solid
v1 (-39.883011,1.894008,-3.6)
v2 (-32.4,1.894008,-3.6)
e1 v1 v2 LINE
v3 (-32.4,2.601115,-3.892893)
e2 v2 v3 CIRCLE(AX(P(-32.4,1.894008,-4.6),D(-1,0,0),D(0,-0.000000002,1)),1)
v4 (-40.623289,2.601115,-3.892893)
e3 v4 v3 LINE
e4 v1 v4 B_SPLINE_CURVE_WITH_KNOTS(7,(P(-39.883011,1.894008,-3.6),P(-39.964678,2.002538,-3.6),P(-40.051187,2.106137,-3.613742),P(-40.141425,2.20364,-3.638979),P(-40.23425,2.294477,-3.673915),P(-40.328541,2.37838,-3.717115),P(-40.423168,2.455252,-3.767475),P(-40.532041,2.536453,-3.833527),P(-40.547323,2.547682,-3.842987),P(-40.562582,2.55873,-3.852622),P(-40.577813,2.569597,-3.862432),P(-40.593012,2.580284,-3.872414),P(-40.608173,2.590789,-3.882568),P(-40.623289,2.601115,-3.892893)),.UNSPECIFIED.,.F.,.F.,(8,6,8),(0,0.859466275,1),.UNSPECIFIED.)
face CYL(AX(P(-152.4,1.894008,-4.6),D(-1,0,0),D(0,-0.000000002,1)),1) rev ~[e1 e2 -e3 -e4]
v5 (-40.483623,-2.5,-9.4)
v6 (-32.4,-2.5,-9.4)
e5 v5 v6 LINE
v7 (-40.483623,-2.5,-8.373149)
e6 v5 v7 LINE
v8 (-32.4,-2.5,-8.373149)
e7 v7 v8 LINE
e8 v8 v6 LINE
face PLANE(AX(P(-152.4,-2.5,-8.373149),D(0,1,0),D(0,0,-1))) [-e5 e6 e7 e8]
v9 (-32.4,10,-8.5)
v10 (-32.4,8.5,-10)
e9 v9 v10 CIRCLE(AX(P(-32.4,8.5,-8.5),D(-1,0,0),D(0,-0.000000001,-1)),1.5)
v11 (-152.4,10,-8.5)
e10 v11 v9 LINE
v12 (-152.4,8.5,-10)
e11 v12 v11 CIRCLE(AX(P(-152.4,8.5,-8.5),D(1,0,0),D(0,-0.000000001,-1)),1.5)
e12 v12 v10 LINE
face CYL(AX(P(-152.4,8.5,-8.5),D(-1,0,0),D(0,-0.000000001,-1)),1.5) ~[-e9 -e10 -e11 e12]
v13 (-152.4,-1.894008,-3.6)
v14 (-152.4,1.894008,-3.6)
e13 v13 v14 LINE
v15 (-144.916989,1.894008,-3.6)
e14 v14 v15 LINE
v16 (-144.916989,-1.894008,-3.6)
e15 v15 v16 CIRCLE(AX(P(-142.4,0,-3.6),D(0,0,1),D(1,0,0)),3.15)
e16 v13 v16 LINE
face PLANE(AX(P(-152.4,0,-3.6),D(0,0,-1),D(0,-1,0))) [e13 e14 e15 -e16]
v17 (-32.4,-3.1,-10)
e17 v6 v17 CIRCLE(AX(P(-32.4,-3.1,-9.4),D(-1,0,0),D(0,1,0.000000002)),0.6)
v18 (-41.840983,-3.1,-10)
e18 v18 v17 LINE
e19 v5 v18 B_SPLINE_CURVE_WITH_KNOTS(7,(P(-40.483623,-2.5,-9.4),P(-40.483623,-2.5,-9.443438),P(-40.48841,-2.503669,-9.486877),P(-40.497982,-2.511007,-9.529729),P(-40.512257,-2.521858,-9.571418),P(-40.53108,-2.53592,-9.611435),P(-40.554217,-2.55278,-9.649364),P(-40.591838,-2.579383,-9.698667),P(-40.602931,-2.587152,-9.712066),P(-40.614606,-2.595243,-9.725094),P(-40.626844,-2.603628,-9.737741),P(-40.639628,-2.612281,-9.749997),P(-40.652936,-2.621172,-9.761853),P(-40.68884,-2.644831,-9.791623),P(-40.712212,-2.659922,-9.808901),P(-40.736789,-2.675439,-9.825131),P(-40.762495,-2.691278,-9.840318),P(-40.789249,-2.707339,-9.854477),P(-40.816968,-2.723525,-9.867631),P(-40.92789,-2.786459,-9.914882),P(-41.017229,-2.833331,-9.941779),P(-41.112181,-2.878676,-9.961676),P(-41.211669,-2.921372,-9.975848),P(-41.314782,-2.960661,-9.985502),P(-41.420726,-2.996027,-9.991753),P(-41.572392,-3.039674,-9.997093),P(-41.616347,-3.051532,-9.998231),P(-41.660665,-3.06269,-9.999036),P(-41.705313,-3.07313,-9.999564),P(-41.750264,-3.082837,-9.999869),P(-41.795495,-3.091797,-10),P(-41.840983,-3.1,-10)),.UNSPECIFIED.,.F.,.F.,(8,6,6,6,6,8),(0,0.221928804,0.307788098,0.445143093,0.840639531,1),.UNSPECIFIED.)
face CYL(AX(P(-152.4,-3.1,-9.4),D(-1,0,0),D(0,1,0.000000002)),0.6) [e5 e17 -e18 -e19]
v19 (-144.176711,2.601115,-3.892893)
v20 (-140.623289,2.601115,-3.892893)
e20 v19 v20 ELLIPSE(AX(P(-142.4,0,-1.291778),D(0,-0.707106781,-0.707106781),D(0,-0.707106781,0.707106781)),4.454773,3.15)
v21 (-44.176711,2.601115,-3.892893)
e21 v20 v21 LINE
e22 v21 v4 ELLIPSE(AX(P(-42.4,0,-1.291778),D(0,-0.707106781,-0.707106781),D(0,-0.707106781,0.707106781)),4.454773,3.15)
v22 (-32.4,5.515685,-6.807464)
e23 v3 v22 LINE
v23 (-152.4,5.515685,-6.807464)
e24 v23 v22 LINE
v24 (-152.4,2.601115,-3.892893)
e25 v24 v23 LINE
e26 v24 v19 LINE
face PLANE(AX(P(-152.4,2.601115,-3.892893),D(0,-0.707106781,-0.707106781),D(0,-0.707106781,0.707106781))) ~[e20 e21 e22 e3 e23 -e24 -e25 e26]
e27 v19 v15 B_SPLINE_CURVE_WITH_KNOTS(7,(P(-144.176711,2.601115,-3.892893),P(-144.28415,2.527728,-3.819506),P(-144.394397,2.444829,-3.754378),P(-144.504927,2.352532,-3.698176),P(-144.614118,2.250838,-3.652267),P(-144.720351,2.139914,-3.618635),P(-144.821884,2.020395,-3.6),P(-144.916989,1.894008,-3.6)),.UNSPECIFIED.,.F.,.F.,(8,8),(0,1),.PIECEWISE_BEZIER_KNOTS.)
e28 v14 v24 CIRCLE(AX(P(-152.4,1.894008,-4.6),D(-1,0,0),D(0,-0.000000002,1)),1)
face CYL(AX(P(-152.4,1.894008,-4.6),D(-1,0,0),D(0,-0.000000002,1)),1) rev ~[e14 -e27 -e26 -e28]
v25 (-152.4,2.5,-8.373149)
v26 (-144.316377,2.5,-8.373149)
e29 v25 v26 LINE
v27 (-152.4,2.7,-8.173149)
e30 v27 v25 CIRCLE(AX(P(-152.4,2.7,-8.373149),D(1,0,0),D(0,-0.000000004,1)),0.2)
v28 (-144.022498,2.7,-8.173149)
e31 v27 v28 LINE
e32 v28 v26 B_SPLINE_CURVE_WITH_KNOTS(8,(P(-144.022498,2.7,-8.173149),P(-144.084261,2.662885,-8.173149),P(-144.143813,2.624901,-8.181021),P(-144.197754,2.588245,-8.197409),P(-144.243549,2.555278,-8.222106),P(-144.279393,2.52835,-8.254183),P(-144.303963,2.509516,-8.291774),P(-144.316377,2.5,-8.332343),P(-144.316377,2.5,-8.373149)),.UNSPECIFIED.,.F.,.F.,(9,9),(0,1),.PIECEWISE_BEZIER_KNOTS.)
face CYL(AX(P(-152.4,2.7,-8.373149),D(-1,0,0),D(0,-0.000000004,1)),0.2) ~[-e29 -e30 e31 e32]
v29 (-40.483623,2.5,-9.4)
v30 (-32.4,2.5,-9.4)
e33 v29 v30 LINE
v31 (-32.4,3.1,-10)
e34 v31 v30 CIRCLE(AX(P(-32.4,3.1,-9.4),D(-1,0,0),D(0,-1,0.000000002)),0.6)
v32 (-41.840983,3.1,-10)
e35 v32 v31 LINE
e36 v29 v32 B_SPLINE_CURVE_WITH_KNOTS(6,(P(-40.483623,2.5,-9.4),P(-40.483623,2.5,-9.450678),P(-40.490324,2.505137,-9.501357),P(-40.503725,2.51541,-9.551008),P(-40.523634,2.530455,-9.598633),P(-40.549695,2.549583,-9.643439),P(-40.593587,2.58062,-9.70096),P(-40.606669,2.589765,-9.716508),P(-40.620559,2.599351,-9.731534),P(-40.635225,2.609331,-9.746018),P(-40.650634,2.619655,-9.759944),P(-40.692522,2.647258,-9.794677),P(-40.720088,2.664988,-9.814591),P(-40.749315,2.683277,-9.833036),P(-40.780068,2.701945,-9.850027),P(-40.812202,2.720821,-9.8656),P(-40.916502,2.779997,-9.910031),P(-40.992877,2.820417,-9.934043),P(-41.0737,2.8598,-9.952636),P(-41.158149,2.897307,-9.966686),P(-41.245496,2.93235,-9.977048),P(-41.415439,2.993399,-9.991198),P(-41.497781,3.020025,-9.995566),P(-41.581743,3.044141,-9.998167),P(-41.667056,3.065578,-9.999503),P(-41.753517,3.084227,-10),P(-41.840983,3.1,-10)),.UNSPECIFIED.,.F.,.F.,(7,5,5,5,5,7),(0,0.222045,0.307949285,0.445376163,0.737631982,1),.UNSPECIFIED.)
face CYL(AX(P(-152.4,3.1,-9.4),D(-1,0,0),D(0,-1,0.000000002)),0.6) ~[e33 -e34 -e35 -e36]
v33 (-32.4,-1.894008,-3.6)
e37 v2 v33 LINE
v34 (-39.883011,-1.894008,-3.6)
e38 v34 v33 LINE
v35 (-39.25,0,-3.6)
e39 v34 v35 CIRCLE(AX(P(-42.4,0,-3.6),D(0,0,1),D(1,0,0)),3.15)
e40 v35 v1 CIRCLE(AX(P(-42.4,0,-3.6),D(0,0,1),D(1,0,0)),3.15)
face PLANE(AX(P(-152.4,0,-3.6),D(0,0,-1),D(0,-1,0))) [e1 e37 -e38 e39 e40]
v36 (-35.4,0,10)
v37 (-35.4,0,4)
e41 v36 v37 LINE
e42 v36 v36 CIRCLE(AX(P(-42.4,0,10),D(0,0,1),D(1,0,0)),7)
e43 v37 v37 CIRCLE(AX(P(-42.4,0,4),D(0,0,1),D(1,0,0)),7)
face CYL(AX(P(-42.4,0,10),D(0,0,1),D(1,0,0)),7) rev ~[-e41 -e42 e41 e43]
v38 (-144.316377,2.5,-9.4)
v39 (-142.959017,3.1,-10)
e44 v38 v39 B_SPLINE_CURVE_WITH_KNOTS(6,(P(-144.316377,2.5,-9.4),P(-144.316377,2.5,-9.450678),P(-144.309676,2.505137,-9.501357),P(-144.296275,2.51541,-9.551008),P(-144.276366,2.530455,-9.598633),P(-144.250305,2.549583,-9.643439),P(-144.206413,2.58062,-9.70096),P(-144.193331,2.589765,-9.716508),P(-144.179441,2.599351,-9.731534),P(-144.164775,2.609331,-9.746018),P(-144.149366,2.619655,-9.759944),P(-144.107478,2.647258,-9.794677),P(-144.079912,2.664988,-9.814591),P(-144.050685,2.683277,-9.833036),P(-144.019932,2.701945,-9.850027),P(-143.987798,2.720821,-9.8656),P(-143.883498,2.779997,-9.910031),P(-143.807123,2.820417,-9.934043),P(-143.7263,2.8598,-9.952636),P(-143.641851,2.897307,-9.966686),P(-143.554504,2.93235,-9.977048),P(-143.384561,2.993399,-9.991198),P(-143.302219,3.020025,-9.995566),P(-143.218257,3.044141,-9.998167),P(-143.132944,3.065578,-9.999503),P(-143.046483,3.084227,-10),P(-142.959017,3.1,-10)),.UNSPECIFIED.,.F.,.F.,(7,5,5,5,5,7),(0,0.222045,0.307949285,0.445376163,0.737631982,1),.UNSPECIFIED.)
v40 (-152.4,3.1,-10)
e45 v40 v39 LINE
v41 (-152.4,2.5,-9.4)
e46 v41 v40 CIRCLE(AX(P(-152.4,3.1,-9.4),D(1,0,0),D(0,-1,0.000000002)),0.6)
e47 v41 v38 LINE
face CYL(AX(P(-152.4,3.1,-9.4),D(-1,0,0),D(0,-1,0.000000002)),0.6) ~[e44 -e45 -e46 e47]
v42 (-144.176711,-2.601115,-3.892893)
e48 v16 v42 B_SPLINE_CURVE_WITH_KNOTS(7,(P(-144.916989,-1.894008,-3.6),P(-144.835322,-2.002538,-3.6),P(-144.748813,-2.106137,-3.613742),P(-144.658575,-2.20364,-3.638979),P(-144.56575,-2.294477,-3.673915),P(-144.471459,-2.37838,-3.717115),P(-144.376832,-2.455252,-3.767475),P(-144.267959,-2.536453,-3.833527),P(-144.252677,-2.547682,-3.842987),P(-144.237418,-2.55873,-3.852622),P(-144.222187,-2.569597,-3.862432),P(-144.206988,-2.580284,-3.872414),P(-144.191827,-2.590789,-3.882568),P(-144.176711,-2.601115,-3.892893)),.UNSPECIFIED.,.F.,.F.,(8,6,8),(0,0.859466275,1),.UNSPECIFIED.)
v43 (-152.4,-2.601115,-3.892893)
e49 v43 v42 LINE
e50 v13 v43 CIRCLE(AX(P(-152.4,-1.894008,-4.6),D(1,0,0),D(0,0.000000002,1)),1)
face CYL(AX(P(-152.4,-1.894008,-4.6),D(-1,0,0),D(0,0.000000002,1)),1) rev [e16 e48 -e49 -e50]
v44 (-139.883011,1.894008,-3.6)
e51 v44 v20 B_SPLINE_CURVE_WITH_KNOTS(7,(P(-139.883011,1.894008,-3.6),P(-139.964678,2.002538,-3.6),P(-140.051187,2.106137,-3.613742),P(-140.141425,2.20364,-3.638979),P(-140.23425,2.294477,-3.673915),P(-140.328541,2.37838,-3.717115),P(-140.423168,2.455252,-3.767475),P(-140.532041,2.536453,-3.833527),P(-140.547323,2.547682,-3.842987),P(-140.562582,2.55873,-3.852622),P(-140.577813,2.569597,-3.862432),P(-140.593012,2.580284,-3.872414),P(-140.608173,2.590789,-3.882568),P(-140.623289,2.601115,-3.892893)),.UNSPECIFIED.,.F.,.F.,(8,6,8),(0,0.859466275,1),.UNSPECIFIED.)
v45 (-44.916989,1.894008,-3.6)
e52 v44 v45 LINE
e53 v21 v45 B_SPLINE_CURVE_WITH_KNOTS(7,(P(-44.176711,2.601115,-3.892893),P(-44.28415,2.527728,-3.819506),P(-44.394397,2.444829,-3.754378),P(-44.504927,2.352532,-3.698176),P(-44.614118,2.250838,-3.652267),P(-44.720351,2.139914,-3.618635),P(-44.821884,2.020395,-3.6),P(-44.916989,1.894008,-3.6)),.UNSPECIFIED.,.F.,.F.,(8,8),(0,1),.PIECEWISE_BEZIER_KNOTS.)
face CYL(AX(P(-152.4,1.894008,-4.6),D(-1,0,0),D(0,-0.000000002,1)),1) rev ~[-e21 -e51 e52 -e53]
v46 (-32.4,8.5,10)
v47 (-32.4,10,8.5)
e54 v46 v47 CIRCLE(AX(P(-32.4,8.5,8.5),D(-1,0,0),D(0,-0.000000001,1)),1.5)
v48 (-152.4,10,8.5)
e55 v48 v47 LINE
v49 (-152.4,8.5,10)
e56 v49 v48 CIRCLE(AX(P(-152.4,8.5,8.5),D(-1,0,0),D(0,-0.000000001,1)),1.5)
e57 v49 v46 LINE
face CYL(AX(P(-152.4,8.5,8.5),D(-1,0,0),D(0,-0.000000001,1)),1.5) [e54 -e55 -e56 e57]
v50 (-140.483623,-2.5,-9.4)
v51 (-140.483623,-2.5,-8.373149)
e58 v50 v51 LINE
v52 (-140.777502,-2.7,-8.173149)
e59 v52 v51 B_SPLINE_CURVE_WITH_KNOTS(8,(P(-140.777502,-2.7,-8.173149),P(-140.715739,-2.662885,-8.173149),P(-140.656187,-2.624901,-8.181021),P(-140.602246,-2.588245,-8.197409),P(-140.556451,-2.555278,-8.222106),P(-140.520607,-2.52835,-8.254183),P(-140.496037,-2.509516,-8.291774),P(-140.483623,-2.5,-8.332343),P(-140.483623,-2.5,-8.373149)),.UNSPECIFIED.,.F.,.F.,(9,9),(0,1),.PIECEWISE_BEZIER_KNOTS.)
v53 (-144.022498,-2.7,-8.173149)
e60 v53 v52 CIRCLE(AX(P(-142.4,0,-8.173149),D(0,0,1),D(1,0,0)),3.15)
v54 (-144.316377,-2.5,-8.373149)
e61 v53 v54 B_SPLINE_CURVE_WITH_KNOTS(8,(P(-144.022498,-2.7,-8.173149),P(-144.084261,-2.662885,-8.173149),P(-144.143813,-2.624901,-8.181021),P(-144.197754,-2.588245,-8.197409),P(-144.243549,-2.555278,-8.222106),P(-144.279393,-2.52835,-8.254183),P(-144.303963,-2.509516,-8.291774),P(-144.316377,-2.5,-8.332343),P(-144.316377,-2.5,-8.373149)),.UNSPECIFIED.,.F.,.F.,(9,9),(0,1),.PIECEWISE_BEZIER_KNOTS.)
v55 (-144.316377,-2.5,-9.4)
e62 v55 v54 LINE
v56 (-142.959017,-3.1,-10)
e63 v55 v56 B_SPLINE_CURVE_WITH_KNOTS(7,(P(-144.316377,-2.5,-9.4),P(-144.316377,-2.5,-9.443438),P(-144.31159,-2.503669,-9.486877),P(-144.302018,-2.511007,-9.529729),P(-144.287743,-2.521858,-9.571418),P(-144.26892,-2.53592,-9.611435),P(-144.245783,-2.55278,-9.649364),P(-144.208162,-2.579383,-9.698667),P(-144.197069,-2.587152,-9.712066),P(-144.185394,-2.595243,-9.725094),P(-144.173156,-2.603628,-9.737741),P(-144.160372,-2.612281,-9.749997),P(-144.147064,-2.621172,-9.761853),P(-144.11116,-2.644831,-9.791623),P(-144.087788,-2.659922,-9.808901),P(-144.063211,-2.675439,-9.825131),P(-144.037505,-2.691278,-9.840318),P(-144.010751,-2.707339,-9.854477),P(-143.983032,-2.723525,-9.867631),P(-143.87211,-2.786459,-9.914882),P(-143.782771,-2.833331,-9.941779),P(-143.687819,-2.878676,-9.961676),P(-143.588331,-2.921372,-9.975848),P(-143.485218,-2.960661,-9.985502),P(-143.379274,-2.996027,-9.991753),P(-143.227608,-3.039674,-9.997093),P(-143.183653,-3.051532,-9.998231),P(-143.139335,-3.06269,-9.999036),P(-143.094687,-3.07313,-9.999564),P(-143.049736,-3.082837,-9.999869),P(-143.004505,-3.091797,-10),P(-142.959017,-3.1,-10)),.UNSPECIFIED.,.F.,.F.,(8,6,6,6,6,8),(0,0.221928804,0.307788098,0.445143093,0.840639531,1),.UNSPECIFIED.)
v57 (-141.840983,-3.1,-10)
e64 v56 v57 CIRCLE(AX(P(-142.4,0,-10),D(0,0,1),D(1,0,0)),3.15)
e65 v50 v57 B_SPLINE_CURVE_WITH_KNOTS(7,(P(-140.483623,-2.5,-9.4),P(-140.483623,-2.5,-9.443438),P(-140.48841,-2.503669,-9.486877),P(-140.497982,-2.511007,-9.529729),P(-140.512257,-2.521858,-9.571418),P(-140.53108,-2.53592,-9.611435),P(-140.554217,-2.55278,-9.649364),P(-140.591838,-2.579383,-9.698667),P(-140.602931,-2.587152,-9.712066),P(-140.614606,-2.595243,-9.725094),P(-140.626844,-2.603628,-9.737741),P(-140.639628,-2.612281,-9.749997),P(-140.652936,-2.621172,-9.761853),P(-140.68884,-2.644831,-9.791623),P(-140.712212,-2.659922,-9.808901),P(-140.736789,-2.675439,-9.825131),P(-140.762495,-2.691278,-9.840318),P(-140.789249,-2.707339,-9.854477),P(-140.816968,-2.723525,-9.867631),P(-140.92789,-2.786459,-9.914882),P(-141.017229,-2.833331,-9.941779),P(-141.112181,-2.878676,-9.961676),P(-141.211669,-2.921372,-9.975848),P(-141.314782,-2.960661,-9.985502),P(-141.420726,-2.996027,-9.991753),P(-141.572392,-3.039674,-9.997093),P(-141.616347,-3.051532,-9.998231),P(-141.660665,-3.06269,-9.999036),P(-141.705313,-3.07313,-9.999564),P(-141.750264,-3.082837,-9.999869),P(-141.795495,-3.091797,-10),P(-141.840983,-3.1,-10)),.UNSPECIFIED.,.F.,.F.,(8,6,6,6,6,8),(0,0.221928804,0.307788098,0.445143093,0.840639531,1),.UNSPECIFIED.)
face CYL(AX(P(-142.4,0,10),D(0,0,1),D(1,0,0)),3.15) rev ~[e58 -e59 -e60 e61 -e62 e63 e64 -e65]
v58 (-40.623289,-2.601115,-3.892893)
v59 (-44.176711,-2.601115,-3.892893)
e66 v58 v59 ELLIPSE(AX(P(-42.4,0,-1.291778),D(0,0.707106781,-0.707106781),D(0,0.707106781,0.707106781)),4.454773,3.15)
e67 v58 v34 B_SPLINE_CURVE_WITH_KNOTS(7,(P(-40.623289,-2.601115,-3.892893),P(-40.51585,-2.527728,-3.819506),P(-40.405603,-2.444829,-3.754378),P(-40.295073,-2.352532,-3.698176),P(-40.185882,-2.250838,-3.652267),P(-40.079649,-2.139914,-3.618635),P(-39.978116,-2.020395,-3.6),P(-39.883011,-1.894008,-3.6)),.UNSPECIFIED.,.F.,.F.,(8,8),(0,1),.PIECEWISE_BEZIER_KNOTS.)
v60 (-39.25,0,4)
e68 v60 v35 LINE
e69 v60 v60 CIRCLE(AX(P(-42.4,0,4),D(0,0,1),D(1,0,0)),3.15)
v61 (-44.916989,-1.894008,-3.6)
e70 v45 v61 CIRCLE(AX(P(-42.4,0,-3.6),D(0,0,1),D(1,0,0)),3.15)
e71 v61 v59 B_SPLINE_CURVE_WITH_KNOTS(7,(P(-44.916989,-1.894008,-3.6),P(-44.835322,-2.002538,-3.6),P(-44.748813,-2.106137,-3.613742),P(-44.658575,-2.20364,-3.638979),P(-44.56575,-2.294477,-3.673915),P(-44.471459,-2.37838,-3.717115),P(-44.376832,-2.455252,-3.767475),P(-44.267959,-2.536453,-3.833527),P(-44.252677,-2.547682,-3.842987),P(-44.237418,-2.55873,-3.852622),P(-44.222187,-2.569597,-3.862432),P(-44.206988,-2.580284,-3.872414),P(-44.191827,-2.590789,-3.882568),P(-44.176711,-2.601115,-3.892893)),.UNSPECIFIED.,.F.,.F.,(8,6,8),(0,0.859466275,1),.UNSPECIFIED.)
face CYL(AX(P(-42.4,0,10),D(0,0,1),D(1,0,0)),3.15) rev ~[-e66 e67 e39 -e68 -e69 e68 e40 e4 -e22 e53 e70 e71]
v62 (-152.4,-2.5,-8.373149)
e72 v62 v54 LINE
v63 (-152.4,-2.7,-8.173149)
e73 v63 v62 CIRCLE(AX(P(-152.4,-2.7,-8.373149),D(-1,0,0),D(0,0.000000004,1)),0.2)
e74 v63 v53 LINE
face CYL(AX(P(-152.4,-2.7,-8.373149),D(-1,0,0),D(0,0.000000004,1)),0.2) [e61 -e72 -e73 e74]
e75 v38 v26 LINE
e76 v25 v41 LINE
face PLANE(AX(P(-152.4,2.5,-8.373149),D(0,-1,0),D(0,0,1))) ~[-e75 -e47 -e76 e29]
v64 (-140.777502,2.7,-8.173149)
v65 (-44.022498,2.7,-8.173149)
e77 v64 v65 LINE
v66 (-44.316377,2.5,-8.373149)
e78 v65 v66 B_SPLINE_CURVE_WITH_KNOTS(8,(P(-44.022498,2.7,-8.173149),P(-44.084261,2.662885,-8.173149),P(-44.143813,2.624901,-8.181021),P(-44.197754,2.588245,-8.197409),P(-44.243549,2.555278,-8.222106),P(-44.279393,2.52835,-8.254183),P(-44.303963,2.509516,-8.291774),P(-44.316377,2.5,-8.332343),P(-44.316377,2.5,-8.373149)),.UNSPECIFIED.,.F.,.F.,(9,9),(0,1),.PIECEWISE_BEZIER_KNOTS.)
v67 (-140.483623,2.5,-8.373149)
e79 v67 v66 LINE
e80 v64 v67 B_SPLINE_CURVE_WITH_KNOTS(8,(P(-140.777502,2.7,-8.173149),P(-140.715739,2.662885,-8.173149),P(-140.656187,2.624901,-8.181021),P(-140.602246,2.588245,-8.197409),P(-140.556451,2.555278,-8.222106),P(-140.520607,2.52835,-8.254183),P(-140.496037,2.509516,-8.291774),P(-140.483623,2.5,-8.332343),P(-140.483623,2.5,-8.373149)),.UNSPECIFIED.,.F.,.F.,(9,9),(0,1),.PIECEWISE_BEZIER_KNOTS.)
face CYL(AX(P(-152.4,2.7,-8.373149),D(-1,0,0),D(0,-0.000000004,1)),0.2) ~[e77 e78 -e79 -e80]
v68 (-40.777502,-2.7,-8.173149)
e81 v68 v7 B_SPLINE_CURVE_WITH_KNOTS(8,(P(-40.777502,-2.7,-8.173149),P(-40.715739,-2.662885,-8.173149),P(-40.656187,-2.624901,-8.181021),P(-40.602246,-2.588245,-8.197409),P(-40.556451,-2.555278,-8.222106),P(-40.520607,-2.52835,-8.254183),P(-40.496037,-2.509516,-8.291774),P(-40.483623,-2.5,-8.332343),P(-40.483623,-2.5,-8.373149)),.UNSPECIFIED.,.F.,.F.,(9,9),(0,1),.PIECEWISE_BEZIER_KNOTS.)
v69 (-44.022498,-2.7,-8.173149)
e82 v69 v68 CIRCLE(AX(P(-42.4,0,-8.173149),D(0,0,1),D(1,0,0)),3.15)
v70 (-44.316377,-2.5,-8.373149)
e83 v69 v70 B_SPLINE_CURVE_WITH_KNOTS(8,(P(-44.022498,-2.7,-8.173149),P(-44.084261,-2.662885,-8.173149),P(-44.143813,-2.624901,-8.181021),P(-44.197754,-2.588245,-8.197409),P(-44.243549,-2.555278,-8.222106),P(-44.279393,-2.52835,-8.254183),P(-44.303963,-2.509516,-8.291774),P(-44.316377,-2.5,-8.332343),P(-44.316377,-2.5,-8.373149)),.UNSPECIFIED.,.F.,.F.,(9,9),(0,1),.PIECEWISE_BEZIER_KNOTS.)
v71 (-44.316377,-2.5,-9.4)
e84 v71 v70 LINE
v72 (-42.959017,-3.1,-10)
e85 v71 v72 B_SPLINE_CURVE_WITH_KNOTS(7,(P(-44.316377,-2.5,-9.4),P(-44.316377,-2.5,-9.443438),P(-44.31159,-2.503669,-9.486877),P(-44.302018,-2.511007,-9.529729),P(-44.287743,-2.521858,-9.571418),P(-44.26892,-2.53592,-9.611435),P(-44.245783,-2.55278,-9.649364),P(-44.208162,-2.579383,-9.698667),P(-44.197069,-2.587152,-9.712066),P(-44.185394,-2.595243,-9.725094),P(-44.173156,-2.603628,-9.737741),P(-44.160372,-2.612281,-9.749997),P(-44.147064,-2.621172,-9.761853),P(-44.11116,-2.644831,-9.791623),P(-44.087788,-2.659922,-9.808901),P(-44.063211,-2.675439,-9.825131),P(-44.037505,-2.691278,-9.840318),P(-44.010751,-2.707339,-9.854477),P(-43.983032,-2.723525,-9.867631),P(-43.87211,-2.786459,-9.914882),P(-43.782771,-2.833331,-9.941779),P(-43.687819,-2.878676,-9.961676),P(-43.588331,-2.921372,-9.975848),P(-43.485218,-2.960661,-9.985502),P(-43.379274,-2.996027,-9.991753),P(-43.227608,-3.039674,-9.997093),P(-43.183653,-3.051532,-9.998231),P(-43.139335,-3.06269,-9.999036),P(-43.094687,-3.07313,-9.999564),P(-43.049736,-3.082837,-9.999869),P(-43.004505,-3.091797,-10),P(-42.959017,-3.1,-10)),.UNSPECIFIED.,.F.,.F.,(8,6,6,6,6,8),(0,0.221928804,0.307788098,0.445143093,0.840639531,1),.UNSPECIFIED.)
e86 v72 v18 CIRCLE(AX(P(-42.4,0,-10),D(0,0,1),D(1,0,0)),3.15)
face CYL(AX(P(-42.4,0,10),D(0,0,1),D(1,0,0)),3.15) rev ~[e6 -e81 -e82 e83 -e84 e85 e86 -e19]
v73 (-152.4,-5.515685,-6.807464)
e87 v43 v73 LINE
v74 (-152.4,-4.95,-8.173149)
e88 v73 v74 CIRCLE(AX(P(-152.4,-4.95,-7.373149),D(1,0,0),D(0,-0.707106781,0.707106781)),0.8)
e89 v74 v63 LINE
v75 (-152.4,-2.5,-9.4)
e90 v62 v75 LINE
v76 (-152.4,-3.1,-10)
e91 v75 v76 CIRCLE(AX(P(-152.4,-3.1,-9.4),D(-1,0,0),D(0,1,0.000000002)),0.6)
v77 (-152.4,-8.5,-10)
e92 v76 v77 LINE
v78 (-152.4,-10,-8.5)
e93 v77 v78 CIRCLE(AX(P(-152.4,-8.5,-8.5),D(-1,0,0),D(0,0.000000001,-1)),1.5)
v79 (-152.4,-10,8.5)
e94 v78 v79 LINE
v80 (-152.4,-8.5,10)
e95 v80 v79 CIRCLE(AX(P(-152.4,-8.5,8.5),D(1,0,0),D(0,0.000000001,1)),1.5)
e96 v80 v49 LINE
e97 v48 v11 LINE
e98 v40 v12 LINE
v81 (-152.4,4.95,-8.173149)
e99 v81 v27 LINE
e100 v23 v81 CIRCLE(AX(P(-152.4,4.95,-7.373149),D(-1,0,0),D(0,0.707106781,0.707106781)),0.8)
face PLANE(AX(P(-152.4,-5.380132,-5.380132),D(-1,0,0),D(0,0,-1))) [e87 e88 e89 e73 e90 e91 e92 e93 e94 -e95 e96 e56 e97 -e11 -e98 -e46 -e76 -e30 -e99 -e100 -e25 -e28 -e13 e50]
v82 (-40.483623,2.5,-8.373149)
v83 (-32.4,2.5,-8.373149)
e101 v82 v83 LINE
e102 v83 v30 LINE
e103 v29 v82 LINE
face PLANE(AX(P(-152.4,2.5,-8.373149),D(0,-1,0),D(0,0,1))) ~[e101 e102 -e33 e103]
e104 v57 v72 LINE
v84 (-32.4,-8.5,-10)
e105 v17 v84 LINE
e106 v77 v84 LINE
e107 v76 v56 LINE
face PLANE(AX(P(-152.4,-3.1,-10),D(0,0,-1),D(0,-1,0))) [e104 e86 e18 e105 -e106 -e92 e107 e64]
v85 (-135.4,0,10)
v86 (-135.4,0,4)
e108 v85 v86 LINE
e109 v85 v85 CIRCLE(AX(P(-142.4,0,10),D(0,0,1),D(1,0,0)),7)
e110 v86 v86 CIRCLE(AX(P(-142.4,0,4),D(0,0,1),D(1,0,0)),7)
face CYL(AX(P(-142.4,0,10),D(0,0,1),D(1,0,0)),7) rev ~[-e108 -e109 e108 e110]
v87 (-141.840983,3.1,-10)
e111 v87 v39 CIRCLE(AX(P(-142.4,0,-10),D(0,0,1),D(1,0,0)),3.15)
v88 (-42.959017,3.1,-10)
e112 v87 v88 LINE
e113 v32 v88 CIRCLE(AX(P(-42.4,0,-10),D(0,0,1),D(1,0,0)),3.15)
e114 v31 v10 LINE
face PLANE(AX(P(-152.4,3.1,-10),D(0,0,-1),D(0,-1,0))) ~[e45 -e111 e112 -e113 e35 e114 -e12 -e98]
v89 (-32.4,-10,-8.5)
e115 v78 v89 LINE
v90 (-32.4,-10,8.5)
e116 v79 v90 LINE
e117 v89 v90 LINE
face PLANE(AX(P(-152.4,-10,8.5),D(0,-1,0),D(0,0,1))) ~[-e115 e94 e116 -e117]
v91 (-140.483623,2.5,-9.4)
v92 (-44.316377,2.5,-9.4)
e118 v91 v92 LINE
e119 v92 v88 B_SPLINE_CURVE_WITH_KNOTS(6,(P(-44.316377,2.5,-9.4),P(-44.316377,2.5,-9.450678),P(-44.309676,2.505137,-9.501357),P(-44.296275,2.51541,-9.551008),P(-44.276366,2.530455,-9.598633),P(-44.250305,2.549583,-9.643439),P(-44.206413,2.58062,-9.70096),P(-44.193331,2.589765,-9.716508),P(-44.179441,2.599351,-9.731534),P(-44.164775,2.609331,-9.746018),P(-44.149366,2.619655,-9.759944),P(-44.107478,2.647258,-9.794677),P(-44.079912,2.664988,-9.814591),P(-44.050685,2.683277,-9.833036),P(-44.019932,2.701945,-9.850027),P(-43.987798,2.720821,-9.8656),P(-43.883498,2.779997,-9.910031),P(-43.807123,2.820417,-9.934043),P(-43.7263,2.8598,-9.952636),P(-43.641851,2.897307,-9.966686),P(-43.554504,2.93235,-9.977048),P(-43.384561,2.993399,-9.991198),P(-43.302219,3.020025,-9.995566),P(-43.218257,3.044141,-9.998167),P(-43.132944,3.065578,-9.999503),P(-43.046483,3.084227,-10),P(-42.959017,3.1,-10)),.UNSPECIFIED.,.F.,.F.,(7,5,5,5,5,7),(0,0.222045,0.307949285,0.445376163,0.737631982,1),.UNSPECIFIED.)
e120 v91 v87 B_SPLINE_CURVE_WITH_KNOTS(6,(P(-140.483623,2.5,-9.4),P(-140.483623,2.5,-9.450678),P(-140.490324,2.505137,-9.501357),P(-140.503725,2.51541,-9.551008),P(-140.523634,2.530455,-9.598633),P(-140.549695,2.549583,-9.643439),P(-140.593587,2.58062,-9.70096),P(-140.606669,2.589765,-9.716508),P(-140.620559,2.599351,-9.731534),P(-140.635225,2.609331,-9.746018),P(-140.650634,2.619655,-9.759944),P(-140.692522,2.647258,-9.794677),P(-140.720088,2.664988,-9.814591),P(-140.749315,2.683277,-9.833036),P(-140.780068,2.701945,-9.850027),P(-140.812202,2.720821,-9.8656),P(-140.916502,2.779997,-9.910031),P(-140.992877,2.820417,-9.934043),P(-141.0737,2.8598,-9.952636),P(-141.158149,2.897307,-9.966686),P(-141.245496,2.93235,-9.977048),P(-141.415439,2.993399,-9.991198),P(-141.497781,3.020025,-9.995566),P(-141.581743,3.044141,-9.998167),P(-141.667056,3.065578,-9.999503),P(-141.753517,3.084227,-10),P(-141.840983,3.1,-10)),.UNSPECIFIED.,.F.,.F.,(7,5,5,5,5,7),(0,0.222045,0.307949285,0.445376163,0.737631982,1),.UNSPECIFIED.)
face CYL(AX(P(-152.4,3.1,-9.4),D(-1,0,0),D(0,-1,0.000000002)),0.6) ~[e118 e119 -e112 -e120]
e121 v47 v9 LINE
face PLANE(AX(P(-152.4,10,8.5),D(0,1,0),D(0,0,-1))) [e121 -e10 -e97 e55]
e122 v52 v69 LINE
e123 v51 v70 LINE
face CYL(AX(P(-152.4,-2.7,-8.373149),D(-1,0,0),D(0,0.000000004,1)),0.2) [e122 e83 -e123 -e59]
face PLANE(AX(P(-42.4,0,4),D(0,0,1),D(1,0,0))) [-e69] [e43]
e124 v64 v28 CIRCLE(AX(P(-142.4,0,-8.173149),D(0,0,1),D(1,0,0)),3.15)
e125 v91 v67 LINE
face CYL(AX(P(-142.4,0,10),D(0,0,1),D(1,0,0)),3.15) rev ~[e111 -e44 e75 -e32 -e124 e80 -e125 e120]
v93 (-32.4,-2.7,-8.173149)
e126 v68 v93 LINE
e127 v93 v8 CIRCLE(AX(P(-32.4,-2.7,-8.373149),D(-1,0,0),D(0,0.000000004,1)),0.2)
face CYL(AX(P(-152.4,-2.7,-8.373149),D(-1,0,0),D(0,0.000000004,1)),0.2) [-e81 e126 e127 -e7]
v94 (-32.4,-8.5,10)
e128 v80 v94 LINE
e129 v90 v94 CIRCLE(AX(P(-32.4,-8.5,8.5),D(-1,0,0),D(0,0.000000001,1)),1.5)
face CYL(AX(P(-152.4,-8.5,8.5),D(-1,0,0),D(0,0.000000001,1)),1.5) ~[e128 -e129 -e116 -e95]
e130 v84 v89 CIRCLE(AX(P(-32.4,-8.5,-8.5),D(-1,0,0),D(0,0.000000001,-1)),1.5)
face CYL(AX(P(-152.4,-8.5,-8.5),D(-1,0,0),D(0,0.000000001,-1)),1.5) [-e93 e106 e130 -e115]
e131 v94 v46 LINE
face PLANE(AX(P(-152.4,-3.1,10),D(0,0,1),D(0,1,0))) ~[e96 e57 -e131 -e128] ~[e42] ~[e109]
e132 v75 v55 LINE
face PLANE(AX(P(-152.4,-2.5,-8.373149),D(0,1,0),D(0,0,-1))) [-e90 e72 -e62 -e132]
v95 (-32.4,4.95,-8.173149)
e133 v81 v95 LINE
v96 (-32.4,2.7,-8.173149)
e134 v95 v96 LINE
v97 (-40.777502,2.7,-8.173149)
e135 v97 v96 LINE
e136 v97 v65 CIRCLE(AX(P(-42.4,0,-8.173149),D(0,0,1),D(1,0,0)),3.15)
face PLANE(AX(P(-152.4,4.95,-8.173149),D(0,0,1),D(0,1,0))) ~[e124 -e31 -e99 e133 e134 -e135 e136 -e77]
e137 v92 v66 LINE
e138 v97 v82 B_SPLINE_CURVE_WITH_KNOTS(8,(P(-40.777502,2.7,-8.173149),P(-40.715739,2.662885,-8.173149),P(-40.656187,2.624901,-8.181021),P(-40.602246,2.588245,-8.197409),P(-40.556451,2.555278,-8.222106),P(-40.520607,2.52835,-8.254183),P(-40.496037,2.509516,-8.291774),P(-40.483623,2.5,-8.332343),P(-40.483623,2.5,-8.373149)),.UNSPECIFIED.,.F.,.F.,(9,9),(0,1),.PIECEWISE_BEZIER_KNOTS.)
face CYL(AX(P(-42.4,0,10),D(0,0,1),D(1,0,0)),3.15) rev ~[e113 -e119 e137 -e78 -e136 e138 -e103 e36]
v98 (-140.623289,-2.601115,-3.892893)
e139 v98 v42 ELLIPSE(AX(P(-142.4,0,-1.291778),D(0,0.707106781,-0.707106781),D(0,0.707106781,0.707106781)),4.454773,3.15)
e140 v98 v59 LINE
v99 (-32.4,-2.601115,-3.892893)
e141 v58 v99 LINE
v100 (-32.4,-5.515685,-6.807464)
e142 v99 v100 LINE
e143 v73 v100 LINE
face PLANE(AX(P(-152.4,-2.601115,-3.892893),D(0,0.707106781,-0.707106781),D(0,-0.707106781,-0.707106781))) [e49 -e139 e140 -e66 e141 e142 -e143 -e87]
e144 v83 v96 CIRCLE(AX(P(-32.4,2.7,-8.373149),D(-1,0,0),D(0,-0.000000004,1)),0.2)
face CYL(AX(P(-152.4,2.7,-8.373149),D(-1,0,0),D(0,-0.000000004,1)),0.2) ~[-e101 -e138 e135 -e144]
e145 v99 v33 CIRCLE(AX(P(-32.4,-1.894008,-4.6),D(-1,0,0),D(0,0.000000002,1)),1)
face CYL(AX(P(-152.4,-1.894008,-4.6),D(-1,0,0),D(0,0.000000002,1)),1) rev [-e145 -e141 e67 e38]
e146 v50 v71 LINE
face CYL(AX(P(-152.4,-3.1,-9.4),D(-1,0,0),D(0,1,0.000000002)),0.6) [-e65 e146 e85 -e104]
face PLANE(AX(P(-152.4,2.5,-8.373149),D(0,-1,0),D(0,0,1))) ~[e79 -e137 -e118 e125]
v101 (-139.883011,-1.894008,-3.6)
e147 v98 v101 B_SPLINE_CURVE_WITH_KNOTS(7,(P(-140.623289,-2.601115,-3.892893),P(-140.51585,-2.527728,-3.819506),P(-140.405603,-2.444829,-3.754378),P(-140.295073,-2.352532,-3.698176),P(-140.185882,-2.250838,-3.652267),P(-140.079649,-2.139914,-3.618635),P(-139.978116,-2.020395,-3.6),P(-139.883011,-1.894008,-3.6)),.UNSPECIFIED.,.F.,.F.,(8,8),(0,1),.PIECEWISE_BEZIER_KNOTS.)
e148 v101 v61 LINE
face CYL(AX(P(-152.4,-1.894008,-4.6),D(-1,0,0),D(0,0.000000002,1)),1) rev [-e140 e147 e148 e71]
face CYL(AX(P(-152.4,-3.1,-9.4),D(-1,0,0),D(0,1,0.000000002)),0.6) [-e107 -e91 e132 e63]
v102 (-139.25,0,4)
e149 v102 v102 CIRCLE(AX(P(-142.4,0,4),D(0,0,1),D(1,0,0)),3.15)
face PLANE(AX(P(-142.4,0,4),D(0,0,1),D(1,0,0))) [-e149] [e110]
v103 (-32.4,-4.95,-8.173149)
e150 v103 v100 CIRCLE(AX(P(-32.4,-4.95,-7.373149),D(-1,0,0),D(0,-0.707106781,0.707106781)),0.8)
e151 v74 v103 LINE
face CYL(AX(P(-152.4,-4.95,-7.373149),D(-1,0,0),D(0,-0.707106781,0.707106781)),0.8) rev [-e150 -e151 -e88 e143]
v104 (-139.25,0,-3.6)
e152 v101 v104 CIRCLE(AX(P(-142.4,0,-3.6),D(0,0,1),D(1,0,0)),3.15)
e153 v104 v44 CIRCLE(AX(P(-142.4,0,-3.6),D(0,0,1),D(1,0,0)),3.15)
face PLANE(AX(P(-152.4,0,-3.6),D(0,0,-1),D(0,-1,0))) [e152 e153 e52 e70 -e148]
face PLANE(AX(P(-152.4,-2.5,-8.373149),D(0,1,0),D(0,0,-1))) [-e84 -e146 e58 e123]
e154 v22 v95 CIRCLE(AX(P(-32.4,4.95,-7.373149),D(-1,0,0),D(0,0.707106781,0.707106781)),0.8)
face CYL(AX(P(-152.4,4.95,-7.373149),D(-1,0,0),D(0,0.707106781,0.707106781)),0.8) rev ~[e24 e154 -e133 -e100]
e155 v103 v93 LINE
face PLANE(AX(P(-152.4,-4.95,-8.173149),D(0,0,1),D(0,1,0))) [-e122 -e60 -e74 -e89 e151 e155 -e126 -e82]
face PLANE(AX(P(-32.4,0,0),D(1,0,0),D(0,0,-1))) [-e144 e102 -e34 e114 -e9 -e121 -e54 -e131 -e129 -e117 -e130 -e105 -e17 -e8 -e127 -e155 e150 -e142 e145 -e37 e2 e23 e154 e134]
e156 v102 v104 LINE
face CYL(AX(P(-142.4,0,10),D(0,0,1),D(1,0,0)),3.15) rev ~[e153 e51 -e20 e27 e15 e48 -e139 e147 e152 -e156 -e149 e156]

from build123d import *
from build123d.topology import SkipClean

# Parameters (mm, degrees)
BOSS_EXTRUDE1_DEPTH      = 152.4
BOSS_EXTRUDE1_DEPTH_BACK = 152.4
SKETCH4_R                = 2.15
BOSS_EXTRUDE2_DEPTH      = 95.2
SKETCH5_W                = 30
SKETCH5_H                = 30
CUT_EXTRUDE1_DEPTH       = 280
BOSS_EXTRUDE5_START      = -120
BOSS_EXTRUDE5_DEPTH      = 120
SKETCH9_R                = 3.15
CUT_EXTRUDE2_DEPTH       = 155.031685052
SKETCH10_R               = 7
CUT_EXTRUDE3_DEPTH       = 6


with BuildPart() as part:
    # Sketch3 → Boss-Extrude1 (new, two sides: drawn at the far end of the back side and taken through both)
    with BuildSketch(Plane(origin=(0, 0, 0), x_dir=(0, 0, -1), z_dir=(1, 0, 0)).offset(-BOSS_EXTRUDE1_DEPTH_BACK)):
        with BuildLine():
            Line((-5.515685425, 6.807463915), (-2.601114729, 3.892893219))
            ThreePointArc((-2.601114729, 3.892893219), (-2.27669138, 3.676120467), (-1.894007948, 3.6))
            Line((-1.894007948, 3.6), (0, 3.6))
            Line((0, 3.6), (0, 2.15))
            ThreePointArc((0, 2.15), (-1.52027958, 1.52027958), (-2.15, 0))
            Line((-2.15, 0), (-3.6, 0))
            Line((-3.6, 0), (-3.6, 1.894007948))
            ThreePointArc((-3.6, 1.894007948), (-3.676120467, 2.27669138), (-3.892893219, 2.601114729))
            Line((-3.892893219, 2.601114729), (-6.807463915, 5.515685425))
            ThreePointArc((-6.807463915, 5.515685425), (-7.679296086, 5.689103626), (-8.17314934, 4.95))
            Line((-8.17314934, 4.95), (-8.17314934, 2.7))
            ThreePointArc((-8.17314934, 2.7), (-8.231727984, 2.558578644), (-8.37314934, 2.5))
            Line((-8.37314934, 2.5), (-9.4, 2.5))
            ThreePointArc((-9.4, 2.5), (-9.824264069, 2.675735931), (-10, 3.1))
            Line((-10, 3.1), (-10, 8.5))
            ThreePointArc((-10, 8.5), (-9.560660172, 9.560660172), (-8.5, 10))
            Line((-8.5, 10), (-3.1, 10))
            ThreePointArc((-3.1, 10), (-2.675735931, 9.824264069), (-2.5, 9.4))
            Line((-2.5, 9.4), (-2.5, 8.37314934))
            ThreePointArc((-2.5, 8.37314934), (-2.558578644, 8.231727984), (-2.7, 8.17314934))
            Line((-2.7, 8.17314934), (-4.95, 8.17314934))
            ThreePointArc((-4.95, 8.17314934), (-5.689103626, 7.679296086), (-5.515685425, 6.807463915))
        make_face()
    extrude(amount=BOSS_EXTRUDE1_DEPTH + BOSS_EXTRUDE1_DEPTH_BACK)

    # Mirror1: part across plane


with BuildPart() as part_1:
    add(part.part)
    add(part.part.mirror(Plane.ZX))

    # Mirror2: part across plane


with BuildPart() as part_2:
    add(part_1.part)
    add(part_1.part.mirror(Plane.XY))

    # Sketch4 → Boss-Extrude2 (add)
    with SkipClean():  # the faces are left unmerged after this step: merging them gives an invalid solid
        with BuildSketch(Plane(origin=(152.4, 0, 0), x_dir=(0, 0, -1), z_dir=(1, 0, 0))):
            with BuildLine():
                Line((1.894007948, 3.6), (-1.894007948, 3.6))
                ThreePointArc((-1.894007948, 3.6), (-2.27669138, 3.676120467), (-2.601114729, 3.892893219))
                Line((-2.601114729, 3.892893219), (-5.515685425, 6.807463915))
                ThreePointArc((-5.515685425, 6.807463915), (-5.689103626, 7.679296086), (-4.95, 8.17314934))
                Line((-4.95, 8.17314934), (-2.7, 8.17314934))
                ThreePointArc((-2.7, 8.17314934), (-2.558578644, 8.231727984), (-2.5, 8.37314934))
                Line((-2.5, 8.37314934), (-2.5, 9.4))
                ThreePointArc((-2.5, 9.4), (-2.675735931, 9.824264069), (-3.1, 10))
                Line((-3.1, 10), (-8.5, 10))
                ThreePointArc((-8.5, 10), (-9.560660172, 9.560660172), (-10, 8.5))
                Line((-10, 8.5), (-10, 3.1))
                ThreePointArc((-10, 3.1), (-9.824264069, 2.675735931), (-9.4, 2.5))
                Line((-9.4, 2.5), (-8.37314934, 2.5))
                ThreePointArc((-8.37314934, 2.5), (-8.231727984, 2.558578644), (-8.17314934, 2.7))
                Line((-8.17314934, 2.7), (-8.17314934, 4.95))
                ThreePointArc((-8.17314934, 4.95), (-7.679296086, 5.689103626), (-6.807463915, 5.515685425))
                Line((-6.807463915, 5.515685425), (-3.892893219, 2.601114729))
                ThreePointArc((-3.892893219, 2.601114729), (-3.676120467, 2.27669138), (-3.6, 1.894007948))
                Line((-3.6, 1.894007948), (-3.6, -1.894007948))
                ThreePointArc((-3.6, -1.894007948), (-3.676120467, -2.27669138), (-3.892893219, -2.601114729))
                Line((-3.892893219, -2.601114729), (-6.807463915, -5.515685425))
                ThreePointArc((-6.807463915, -5.515685425), (-7.679296086, -5.689103626), (-8.17314934, -4.95))
                Line((-8.17314934, -4.95), (-8.17314934, -2.7))
                ThreePointArc((-8.17314934, -2.7), (-8.231727984, -2.558578644), (-8.37314934, -2.5))
                Line((-8.37314934, -2.5), (-9.4, -2.5))
                ThreePointArc((-9.4, -2.5), (-9.824264069, -2.675735931), (-10, -3.1))
                Line((-10, -3.1), (-10, -8.5))
                ThreePointArc((-10, -8.5), (-9.560660172, -9.560660172), (-8.5, -10))
                Line((-8.5, -10), (-3.1, -10))
                ThreePointArc((-3.1, -10), (-2.675735931, -9.824264069), (-2.5, -9.4))
                Line((-2.5, -9.4), (-2.5, -8.37314934))
                ThreePointArc((-2.5, -8.37314934), (-2.558578644, -8.231727984), (-2.7, -8.17314934))
                Line((-2.7, -8.17314934), (-4.95, -8.17314934))
                ThreePointArc((-4.95, -8.17314934), (-5.689103626, -7.679296086), (-5.515685425, -6.807463915))
                Line((-5.515685425, -6.807463915), (-2.601114729, -3.892893219))
                ThreePointArc((-2.601114729, -3.892893219), (-2.27669138, -3.676120467), (-1.894007948, -3.6))
                Line((-1.894007948, -3.6), (1.894007948, -3.6))
                ThreePointArc((1.894007948, -3.6), (2.27669138, -3.676120467), (2.601114729, -3.892893219))
                Line((2.601114729, -3.892893219), (5.515685425, -6.807463915))
                ThreePointArc((5.515685425, -6.807463915), (5.689103626, -7.679296086), (4.95, -8.17314934))
                Line((4.95, -8.17314934), (2.7, -8.17314934))
                ThreePointArc((2.7, -8.17314934), (2.558578644, -8.231727984), (2.5, -8.37314934))
                Line((2.5, -8.37314934), (2.5, -9.4))
                ThreePointArc((2.5, -9.4), (2.675735931, -9.824264069), (3.1, -10))
                Line((3.1, -10), (8.5, -10))
                ThreePointArc((8.5, -10), (9.560660172, -9.560660172), (10, -8.5))
                Line((10, -8.5), (10, -3.1))
                ThreePointArc((10, -3.1), (9.824264069, -2.675735931), (9.4, -2.5))
                Line((9.4, -2.5), (8.37314934, -2.5))
                ThreePointArc((8.37314934, -2.5), (8.231727984, -2.558578644), (8.17314934, -2.7))
                Line((8.17314934, -2.7), (8.17314934, -4.95))
                ThreePointArc((8.17314934, -4.95), (7.679296086, -5.689103626), (6.807463915, -5.515685425))
                Line((6.807463915, -5.515685425), (3.892893219, -2.601114729))
                ThreePointArc((3.892893219, -2.601114729), (3.676120467, -2.27669138), (3.6, -1.894007948))
                Line((3.6, -1.894007948), (3.6, 1.894007948))
                ThreePointArc((3.6, 1.894007948), (3.676120467, 2.27669138), (3.892893219, 2.601114729))
                Line((3.892893219, 2.601114729), (6.807463915, 5.515685425))
                ThreePointArc((6.807463915, 5.515685425), (7.679296086, 5.689103626), (8.17314934, 4.95))
                Line((8.17314934, 4.95), (8.17314934, 2.7))
                ThreePointArc((8.17314934, 2.7), (8.231727984, 2.558578644), (8.37314934, 2.5))
                Line((8.37314934, 2.5), (9.4, 2.5))
                ThreePointArc((9.4, 2.5), (9.824264069, 2.675735931), (10, 3.1))
                Line((10, 3.1), (10, 8.5))
                ThreePointArc((10, 8.5), (9.560660172, 9.560660172), (8.5, 10))
                Line((8.5, 10), (3.1, 10))
                ThreePointArc((3.1, 10), (2.675735931, 9.824264069), (2.5, 9.4))
                Line((2.5, 9.4), (2.5, 8.37314934))
                ThreePointArc((2.5, 8.37314934), (2.558578644, 8.231727984), (2.7, 8.17314934))
                Line((2.7, 8.17314934), (4.95, 8.17314934))
                ThreePointArc((4.95, 8.17314934), (5.689103626, 7.679296086), (5.515685425, 6.807463915))
                Line((5.515685425, 6.807463915), (2.601114729, 3.892893219))
                ThreePointArc((2.601114729, 3.892893219), (2.27669138, 3.676120467), (1.894007948, 3.6))
            make_face()
            Circle(SKETCH4_R, mode=Mode.SUBTRACT)
        extrude(amount=BOSS_EXTRUDE2_DEPTH)

    # Sketch5 → Cut-Extrude1 (cut)
    with BuildSketch(Plane(origin=(247.6, 0, 0), x_dir=(0, 0, -1), z_dir=(1, 0, 0))):
        Rectangle(SKETCH5_W, SKETCH5_H)
    extrude(amount=-CUT_EXTRUDE1_DEPTH, mode=Mode.SUBTRACT)

    # Sketch8 → Boss-Extrude5 (add)
    with BuildSketch(Plane(origin=(-32.4, 0, 0), x_dir=(0, 0, -1), z_dir=(1, 0, 0)).offset(BOSS_EXTRUDE5_START)):
        with BuildLine():
            Line((-8.5, 10), (8.5, 10))
            ThreePointArc((8.5, 10), (9.560660172, 9.560660172), (10, 8.5))
            Line((10, 8.5), (10, 3.1))
            ThreePointArc((10, 3.1), (9.824264069, 2.675735931), (9.4, 2.5))
            Line((9.4, 2.5), (8.37314934, 2.5))
            ThreePointArc((8.37314934, 2.5), (8.231727984, 2.558578644), (8.17314934, 2.7))
            Line((8.17314934, 2.7), (8.17314934, 4.95))
            ThreePointArc((8.17314934, 4.95), (7.679296086, 5.689103626), (6.807463915, 5.515685425))
            Line((6.807463915, 5.515685425), (3.892893219, 2.601114729))
            ThreePointArc((3.892893219, 2.601114729), (3.676120467, 2.27669138), (3.6, 1.894007948))
            Line((3.6, 1.894007948), (3.6, -1.894007948))
            ThreePointArc((3.6, -1.894007948), (3.676120467, -2.27669138), (3.892893219, -2.601114729))
            Line((3.892893219, -2.601114729), (6.807463915, -5.515685425))
            ThreePointArc((6.807463915, -5.515685425), (7.679296086, -5.689103626), (8.17314934, -4.95))
            Line((8.17314934, -4.95), (8.17314934, -2.7))
            ThreePointArc((8.17314934, -2.7), (8.231727984, -2.558578644), (8.37314934, -2.5))
            Line((8.37314934, -2.5), (9.4, -2.5))
            ThreePointArc((9.4, -2.5), (9.824264069, -2.675735931), (10, -3.1))
            Line((10, -3.1), (10, -8.5))
            ThreePointArc((10, -8.5), (9.560660172, -9.560660172), (8.5, -10))
            Line((8.5, -10), (-8.5, -10))
            ThreePointArc((-8.5, -10), (-9.560660172, -9.560660172), (-10, -8.5))
            Line((-10, -8.5), (-10, 8.5))
            ThreePointArc((-10, 8.5), (-9.560660172, 9.560660172), (-8.5, 10))
        make_face()
    extrude(amount=BOSS_EXTRUDE5_DEPTH)

    # Sketch9 → Cut-Extrude2 (cut, through all)
    with BuildSketch(Plane.XY.offset(10)):
        with Locations((-142.4, 0)):
            Circle(SKETCH9_R)
        with Locations((-42.4, 0)):
            Circle(SKETCH9_R)
    extrude(amount=-CUT_EXTRUDE2_DEPTH, mode=Mode.SUBTRACT)

    # Sketch10 → Cut-Extrude3 (cut)
    with BuildSketch(Plane.XY.offset(10)):
        with Locations((-142.4, 0)):
            Circle(SKETCH10_R)
        with Locations((-42.4, 0)):
            Circle(SKETCH10_R)
    extrude(amount=-CUT_EXTRUDE3_DEPTH, mode=Mode.SUBTRACT)


solid = part_2.part
